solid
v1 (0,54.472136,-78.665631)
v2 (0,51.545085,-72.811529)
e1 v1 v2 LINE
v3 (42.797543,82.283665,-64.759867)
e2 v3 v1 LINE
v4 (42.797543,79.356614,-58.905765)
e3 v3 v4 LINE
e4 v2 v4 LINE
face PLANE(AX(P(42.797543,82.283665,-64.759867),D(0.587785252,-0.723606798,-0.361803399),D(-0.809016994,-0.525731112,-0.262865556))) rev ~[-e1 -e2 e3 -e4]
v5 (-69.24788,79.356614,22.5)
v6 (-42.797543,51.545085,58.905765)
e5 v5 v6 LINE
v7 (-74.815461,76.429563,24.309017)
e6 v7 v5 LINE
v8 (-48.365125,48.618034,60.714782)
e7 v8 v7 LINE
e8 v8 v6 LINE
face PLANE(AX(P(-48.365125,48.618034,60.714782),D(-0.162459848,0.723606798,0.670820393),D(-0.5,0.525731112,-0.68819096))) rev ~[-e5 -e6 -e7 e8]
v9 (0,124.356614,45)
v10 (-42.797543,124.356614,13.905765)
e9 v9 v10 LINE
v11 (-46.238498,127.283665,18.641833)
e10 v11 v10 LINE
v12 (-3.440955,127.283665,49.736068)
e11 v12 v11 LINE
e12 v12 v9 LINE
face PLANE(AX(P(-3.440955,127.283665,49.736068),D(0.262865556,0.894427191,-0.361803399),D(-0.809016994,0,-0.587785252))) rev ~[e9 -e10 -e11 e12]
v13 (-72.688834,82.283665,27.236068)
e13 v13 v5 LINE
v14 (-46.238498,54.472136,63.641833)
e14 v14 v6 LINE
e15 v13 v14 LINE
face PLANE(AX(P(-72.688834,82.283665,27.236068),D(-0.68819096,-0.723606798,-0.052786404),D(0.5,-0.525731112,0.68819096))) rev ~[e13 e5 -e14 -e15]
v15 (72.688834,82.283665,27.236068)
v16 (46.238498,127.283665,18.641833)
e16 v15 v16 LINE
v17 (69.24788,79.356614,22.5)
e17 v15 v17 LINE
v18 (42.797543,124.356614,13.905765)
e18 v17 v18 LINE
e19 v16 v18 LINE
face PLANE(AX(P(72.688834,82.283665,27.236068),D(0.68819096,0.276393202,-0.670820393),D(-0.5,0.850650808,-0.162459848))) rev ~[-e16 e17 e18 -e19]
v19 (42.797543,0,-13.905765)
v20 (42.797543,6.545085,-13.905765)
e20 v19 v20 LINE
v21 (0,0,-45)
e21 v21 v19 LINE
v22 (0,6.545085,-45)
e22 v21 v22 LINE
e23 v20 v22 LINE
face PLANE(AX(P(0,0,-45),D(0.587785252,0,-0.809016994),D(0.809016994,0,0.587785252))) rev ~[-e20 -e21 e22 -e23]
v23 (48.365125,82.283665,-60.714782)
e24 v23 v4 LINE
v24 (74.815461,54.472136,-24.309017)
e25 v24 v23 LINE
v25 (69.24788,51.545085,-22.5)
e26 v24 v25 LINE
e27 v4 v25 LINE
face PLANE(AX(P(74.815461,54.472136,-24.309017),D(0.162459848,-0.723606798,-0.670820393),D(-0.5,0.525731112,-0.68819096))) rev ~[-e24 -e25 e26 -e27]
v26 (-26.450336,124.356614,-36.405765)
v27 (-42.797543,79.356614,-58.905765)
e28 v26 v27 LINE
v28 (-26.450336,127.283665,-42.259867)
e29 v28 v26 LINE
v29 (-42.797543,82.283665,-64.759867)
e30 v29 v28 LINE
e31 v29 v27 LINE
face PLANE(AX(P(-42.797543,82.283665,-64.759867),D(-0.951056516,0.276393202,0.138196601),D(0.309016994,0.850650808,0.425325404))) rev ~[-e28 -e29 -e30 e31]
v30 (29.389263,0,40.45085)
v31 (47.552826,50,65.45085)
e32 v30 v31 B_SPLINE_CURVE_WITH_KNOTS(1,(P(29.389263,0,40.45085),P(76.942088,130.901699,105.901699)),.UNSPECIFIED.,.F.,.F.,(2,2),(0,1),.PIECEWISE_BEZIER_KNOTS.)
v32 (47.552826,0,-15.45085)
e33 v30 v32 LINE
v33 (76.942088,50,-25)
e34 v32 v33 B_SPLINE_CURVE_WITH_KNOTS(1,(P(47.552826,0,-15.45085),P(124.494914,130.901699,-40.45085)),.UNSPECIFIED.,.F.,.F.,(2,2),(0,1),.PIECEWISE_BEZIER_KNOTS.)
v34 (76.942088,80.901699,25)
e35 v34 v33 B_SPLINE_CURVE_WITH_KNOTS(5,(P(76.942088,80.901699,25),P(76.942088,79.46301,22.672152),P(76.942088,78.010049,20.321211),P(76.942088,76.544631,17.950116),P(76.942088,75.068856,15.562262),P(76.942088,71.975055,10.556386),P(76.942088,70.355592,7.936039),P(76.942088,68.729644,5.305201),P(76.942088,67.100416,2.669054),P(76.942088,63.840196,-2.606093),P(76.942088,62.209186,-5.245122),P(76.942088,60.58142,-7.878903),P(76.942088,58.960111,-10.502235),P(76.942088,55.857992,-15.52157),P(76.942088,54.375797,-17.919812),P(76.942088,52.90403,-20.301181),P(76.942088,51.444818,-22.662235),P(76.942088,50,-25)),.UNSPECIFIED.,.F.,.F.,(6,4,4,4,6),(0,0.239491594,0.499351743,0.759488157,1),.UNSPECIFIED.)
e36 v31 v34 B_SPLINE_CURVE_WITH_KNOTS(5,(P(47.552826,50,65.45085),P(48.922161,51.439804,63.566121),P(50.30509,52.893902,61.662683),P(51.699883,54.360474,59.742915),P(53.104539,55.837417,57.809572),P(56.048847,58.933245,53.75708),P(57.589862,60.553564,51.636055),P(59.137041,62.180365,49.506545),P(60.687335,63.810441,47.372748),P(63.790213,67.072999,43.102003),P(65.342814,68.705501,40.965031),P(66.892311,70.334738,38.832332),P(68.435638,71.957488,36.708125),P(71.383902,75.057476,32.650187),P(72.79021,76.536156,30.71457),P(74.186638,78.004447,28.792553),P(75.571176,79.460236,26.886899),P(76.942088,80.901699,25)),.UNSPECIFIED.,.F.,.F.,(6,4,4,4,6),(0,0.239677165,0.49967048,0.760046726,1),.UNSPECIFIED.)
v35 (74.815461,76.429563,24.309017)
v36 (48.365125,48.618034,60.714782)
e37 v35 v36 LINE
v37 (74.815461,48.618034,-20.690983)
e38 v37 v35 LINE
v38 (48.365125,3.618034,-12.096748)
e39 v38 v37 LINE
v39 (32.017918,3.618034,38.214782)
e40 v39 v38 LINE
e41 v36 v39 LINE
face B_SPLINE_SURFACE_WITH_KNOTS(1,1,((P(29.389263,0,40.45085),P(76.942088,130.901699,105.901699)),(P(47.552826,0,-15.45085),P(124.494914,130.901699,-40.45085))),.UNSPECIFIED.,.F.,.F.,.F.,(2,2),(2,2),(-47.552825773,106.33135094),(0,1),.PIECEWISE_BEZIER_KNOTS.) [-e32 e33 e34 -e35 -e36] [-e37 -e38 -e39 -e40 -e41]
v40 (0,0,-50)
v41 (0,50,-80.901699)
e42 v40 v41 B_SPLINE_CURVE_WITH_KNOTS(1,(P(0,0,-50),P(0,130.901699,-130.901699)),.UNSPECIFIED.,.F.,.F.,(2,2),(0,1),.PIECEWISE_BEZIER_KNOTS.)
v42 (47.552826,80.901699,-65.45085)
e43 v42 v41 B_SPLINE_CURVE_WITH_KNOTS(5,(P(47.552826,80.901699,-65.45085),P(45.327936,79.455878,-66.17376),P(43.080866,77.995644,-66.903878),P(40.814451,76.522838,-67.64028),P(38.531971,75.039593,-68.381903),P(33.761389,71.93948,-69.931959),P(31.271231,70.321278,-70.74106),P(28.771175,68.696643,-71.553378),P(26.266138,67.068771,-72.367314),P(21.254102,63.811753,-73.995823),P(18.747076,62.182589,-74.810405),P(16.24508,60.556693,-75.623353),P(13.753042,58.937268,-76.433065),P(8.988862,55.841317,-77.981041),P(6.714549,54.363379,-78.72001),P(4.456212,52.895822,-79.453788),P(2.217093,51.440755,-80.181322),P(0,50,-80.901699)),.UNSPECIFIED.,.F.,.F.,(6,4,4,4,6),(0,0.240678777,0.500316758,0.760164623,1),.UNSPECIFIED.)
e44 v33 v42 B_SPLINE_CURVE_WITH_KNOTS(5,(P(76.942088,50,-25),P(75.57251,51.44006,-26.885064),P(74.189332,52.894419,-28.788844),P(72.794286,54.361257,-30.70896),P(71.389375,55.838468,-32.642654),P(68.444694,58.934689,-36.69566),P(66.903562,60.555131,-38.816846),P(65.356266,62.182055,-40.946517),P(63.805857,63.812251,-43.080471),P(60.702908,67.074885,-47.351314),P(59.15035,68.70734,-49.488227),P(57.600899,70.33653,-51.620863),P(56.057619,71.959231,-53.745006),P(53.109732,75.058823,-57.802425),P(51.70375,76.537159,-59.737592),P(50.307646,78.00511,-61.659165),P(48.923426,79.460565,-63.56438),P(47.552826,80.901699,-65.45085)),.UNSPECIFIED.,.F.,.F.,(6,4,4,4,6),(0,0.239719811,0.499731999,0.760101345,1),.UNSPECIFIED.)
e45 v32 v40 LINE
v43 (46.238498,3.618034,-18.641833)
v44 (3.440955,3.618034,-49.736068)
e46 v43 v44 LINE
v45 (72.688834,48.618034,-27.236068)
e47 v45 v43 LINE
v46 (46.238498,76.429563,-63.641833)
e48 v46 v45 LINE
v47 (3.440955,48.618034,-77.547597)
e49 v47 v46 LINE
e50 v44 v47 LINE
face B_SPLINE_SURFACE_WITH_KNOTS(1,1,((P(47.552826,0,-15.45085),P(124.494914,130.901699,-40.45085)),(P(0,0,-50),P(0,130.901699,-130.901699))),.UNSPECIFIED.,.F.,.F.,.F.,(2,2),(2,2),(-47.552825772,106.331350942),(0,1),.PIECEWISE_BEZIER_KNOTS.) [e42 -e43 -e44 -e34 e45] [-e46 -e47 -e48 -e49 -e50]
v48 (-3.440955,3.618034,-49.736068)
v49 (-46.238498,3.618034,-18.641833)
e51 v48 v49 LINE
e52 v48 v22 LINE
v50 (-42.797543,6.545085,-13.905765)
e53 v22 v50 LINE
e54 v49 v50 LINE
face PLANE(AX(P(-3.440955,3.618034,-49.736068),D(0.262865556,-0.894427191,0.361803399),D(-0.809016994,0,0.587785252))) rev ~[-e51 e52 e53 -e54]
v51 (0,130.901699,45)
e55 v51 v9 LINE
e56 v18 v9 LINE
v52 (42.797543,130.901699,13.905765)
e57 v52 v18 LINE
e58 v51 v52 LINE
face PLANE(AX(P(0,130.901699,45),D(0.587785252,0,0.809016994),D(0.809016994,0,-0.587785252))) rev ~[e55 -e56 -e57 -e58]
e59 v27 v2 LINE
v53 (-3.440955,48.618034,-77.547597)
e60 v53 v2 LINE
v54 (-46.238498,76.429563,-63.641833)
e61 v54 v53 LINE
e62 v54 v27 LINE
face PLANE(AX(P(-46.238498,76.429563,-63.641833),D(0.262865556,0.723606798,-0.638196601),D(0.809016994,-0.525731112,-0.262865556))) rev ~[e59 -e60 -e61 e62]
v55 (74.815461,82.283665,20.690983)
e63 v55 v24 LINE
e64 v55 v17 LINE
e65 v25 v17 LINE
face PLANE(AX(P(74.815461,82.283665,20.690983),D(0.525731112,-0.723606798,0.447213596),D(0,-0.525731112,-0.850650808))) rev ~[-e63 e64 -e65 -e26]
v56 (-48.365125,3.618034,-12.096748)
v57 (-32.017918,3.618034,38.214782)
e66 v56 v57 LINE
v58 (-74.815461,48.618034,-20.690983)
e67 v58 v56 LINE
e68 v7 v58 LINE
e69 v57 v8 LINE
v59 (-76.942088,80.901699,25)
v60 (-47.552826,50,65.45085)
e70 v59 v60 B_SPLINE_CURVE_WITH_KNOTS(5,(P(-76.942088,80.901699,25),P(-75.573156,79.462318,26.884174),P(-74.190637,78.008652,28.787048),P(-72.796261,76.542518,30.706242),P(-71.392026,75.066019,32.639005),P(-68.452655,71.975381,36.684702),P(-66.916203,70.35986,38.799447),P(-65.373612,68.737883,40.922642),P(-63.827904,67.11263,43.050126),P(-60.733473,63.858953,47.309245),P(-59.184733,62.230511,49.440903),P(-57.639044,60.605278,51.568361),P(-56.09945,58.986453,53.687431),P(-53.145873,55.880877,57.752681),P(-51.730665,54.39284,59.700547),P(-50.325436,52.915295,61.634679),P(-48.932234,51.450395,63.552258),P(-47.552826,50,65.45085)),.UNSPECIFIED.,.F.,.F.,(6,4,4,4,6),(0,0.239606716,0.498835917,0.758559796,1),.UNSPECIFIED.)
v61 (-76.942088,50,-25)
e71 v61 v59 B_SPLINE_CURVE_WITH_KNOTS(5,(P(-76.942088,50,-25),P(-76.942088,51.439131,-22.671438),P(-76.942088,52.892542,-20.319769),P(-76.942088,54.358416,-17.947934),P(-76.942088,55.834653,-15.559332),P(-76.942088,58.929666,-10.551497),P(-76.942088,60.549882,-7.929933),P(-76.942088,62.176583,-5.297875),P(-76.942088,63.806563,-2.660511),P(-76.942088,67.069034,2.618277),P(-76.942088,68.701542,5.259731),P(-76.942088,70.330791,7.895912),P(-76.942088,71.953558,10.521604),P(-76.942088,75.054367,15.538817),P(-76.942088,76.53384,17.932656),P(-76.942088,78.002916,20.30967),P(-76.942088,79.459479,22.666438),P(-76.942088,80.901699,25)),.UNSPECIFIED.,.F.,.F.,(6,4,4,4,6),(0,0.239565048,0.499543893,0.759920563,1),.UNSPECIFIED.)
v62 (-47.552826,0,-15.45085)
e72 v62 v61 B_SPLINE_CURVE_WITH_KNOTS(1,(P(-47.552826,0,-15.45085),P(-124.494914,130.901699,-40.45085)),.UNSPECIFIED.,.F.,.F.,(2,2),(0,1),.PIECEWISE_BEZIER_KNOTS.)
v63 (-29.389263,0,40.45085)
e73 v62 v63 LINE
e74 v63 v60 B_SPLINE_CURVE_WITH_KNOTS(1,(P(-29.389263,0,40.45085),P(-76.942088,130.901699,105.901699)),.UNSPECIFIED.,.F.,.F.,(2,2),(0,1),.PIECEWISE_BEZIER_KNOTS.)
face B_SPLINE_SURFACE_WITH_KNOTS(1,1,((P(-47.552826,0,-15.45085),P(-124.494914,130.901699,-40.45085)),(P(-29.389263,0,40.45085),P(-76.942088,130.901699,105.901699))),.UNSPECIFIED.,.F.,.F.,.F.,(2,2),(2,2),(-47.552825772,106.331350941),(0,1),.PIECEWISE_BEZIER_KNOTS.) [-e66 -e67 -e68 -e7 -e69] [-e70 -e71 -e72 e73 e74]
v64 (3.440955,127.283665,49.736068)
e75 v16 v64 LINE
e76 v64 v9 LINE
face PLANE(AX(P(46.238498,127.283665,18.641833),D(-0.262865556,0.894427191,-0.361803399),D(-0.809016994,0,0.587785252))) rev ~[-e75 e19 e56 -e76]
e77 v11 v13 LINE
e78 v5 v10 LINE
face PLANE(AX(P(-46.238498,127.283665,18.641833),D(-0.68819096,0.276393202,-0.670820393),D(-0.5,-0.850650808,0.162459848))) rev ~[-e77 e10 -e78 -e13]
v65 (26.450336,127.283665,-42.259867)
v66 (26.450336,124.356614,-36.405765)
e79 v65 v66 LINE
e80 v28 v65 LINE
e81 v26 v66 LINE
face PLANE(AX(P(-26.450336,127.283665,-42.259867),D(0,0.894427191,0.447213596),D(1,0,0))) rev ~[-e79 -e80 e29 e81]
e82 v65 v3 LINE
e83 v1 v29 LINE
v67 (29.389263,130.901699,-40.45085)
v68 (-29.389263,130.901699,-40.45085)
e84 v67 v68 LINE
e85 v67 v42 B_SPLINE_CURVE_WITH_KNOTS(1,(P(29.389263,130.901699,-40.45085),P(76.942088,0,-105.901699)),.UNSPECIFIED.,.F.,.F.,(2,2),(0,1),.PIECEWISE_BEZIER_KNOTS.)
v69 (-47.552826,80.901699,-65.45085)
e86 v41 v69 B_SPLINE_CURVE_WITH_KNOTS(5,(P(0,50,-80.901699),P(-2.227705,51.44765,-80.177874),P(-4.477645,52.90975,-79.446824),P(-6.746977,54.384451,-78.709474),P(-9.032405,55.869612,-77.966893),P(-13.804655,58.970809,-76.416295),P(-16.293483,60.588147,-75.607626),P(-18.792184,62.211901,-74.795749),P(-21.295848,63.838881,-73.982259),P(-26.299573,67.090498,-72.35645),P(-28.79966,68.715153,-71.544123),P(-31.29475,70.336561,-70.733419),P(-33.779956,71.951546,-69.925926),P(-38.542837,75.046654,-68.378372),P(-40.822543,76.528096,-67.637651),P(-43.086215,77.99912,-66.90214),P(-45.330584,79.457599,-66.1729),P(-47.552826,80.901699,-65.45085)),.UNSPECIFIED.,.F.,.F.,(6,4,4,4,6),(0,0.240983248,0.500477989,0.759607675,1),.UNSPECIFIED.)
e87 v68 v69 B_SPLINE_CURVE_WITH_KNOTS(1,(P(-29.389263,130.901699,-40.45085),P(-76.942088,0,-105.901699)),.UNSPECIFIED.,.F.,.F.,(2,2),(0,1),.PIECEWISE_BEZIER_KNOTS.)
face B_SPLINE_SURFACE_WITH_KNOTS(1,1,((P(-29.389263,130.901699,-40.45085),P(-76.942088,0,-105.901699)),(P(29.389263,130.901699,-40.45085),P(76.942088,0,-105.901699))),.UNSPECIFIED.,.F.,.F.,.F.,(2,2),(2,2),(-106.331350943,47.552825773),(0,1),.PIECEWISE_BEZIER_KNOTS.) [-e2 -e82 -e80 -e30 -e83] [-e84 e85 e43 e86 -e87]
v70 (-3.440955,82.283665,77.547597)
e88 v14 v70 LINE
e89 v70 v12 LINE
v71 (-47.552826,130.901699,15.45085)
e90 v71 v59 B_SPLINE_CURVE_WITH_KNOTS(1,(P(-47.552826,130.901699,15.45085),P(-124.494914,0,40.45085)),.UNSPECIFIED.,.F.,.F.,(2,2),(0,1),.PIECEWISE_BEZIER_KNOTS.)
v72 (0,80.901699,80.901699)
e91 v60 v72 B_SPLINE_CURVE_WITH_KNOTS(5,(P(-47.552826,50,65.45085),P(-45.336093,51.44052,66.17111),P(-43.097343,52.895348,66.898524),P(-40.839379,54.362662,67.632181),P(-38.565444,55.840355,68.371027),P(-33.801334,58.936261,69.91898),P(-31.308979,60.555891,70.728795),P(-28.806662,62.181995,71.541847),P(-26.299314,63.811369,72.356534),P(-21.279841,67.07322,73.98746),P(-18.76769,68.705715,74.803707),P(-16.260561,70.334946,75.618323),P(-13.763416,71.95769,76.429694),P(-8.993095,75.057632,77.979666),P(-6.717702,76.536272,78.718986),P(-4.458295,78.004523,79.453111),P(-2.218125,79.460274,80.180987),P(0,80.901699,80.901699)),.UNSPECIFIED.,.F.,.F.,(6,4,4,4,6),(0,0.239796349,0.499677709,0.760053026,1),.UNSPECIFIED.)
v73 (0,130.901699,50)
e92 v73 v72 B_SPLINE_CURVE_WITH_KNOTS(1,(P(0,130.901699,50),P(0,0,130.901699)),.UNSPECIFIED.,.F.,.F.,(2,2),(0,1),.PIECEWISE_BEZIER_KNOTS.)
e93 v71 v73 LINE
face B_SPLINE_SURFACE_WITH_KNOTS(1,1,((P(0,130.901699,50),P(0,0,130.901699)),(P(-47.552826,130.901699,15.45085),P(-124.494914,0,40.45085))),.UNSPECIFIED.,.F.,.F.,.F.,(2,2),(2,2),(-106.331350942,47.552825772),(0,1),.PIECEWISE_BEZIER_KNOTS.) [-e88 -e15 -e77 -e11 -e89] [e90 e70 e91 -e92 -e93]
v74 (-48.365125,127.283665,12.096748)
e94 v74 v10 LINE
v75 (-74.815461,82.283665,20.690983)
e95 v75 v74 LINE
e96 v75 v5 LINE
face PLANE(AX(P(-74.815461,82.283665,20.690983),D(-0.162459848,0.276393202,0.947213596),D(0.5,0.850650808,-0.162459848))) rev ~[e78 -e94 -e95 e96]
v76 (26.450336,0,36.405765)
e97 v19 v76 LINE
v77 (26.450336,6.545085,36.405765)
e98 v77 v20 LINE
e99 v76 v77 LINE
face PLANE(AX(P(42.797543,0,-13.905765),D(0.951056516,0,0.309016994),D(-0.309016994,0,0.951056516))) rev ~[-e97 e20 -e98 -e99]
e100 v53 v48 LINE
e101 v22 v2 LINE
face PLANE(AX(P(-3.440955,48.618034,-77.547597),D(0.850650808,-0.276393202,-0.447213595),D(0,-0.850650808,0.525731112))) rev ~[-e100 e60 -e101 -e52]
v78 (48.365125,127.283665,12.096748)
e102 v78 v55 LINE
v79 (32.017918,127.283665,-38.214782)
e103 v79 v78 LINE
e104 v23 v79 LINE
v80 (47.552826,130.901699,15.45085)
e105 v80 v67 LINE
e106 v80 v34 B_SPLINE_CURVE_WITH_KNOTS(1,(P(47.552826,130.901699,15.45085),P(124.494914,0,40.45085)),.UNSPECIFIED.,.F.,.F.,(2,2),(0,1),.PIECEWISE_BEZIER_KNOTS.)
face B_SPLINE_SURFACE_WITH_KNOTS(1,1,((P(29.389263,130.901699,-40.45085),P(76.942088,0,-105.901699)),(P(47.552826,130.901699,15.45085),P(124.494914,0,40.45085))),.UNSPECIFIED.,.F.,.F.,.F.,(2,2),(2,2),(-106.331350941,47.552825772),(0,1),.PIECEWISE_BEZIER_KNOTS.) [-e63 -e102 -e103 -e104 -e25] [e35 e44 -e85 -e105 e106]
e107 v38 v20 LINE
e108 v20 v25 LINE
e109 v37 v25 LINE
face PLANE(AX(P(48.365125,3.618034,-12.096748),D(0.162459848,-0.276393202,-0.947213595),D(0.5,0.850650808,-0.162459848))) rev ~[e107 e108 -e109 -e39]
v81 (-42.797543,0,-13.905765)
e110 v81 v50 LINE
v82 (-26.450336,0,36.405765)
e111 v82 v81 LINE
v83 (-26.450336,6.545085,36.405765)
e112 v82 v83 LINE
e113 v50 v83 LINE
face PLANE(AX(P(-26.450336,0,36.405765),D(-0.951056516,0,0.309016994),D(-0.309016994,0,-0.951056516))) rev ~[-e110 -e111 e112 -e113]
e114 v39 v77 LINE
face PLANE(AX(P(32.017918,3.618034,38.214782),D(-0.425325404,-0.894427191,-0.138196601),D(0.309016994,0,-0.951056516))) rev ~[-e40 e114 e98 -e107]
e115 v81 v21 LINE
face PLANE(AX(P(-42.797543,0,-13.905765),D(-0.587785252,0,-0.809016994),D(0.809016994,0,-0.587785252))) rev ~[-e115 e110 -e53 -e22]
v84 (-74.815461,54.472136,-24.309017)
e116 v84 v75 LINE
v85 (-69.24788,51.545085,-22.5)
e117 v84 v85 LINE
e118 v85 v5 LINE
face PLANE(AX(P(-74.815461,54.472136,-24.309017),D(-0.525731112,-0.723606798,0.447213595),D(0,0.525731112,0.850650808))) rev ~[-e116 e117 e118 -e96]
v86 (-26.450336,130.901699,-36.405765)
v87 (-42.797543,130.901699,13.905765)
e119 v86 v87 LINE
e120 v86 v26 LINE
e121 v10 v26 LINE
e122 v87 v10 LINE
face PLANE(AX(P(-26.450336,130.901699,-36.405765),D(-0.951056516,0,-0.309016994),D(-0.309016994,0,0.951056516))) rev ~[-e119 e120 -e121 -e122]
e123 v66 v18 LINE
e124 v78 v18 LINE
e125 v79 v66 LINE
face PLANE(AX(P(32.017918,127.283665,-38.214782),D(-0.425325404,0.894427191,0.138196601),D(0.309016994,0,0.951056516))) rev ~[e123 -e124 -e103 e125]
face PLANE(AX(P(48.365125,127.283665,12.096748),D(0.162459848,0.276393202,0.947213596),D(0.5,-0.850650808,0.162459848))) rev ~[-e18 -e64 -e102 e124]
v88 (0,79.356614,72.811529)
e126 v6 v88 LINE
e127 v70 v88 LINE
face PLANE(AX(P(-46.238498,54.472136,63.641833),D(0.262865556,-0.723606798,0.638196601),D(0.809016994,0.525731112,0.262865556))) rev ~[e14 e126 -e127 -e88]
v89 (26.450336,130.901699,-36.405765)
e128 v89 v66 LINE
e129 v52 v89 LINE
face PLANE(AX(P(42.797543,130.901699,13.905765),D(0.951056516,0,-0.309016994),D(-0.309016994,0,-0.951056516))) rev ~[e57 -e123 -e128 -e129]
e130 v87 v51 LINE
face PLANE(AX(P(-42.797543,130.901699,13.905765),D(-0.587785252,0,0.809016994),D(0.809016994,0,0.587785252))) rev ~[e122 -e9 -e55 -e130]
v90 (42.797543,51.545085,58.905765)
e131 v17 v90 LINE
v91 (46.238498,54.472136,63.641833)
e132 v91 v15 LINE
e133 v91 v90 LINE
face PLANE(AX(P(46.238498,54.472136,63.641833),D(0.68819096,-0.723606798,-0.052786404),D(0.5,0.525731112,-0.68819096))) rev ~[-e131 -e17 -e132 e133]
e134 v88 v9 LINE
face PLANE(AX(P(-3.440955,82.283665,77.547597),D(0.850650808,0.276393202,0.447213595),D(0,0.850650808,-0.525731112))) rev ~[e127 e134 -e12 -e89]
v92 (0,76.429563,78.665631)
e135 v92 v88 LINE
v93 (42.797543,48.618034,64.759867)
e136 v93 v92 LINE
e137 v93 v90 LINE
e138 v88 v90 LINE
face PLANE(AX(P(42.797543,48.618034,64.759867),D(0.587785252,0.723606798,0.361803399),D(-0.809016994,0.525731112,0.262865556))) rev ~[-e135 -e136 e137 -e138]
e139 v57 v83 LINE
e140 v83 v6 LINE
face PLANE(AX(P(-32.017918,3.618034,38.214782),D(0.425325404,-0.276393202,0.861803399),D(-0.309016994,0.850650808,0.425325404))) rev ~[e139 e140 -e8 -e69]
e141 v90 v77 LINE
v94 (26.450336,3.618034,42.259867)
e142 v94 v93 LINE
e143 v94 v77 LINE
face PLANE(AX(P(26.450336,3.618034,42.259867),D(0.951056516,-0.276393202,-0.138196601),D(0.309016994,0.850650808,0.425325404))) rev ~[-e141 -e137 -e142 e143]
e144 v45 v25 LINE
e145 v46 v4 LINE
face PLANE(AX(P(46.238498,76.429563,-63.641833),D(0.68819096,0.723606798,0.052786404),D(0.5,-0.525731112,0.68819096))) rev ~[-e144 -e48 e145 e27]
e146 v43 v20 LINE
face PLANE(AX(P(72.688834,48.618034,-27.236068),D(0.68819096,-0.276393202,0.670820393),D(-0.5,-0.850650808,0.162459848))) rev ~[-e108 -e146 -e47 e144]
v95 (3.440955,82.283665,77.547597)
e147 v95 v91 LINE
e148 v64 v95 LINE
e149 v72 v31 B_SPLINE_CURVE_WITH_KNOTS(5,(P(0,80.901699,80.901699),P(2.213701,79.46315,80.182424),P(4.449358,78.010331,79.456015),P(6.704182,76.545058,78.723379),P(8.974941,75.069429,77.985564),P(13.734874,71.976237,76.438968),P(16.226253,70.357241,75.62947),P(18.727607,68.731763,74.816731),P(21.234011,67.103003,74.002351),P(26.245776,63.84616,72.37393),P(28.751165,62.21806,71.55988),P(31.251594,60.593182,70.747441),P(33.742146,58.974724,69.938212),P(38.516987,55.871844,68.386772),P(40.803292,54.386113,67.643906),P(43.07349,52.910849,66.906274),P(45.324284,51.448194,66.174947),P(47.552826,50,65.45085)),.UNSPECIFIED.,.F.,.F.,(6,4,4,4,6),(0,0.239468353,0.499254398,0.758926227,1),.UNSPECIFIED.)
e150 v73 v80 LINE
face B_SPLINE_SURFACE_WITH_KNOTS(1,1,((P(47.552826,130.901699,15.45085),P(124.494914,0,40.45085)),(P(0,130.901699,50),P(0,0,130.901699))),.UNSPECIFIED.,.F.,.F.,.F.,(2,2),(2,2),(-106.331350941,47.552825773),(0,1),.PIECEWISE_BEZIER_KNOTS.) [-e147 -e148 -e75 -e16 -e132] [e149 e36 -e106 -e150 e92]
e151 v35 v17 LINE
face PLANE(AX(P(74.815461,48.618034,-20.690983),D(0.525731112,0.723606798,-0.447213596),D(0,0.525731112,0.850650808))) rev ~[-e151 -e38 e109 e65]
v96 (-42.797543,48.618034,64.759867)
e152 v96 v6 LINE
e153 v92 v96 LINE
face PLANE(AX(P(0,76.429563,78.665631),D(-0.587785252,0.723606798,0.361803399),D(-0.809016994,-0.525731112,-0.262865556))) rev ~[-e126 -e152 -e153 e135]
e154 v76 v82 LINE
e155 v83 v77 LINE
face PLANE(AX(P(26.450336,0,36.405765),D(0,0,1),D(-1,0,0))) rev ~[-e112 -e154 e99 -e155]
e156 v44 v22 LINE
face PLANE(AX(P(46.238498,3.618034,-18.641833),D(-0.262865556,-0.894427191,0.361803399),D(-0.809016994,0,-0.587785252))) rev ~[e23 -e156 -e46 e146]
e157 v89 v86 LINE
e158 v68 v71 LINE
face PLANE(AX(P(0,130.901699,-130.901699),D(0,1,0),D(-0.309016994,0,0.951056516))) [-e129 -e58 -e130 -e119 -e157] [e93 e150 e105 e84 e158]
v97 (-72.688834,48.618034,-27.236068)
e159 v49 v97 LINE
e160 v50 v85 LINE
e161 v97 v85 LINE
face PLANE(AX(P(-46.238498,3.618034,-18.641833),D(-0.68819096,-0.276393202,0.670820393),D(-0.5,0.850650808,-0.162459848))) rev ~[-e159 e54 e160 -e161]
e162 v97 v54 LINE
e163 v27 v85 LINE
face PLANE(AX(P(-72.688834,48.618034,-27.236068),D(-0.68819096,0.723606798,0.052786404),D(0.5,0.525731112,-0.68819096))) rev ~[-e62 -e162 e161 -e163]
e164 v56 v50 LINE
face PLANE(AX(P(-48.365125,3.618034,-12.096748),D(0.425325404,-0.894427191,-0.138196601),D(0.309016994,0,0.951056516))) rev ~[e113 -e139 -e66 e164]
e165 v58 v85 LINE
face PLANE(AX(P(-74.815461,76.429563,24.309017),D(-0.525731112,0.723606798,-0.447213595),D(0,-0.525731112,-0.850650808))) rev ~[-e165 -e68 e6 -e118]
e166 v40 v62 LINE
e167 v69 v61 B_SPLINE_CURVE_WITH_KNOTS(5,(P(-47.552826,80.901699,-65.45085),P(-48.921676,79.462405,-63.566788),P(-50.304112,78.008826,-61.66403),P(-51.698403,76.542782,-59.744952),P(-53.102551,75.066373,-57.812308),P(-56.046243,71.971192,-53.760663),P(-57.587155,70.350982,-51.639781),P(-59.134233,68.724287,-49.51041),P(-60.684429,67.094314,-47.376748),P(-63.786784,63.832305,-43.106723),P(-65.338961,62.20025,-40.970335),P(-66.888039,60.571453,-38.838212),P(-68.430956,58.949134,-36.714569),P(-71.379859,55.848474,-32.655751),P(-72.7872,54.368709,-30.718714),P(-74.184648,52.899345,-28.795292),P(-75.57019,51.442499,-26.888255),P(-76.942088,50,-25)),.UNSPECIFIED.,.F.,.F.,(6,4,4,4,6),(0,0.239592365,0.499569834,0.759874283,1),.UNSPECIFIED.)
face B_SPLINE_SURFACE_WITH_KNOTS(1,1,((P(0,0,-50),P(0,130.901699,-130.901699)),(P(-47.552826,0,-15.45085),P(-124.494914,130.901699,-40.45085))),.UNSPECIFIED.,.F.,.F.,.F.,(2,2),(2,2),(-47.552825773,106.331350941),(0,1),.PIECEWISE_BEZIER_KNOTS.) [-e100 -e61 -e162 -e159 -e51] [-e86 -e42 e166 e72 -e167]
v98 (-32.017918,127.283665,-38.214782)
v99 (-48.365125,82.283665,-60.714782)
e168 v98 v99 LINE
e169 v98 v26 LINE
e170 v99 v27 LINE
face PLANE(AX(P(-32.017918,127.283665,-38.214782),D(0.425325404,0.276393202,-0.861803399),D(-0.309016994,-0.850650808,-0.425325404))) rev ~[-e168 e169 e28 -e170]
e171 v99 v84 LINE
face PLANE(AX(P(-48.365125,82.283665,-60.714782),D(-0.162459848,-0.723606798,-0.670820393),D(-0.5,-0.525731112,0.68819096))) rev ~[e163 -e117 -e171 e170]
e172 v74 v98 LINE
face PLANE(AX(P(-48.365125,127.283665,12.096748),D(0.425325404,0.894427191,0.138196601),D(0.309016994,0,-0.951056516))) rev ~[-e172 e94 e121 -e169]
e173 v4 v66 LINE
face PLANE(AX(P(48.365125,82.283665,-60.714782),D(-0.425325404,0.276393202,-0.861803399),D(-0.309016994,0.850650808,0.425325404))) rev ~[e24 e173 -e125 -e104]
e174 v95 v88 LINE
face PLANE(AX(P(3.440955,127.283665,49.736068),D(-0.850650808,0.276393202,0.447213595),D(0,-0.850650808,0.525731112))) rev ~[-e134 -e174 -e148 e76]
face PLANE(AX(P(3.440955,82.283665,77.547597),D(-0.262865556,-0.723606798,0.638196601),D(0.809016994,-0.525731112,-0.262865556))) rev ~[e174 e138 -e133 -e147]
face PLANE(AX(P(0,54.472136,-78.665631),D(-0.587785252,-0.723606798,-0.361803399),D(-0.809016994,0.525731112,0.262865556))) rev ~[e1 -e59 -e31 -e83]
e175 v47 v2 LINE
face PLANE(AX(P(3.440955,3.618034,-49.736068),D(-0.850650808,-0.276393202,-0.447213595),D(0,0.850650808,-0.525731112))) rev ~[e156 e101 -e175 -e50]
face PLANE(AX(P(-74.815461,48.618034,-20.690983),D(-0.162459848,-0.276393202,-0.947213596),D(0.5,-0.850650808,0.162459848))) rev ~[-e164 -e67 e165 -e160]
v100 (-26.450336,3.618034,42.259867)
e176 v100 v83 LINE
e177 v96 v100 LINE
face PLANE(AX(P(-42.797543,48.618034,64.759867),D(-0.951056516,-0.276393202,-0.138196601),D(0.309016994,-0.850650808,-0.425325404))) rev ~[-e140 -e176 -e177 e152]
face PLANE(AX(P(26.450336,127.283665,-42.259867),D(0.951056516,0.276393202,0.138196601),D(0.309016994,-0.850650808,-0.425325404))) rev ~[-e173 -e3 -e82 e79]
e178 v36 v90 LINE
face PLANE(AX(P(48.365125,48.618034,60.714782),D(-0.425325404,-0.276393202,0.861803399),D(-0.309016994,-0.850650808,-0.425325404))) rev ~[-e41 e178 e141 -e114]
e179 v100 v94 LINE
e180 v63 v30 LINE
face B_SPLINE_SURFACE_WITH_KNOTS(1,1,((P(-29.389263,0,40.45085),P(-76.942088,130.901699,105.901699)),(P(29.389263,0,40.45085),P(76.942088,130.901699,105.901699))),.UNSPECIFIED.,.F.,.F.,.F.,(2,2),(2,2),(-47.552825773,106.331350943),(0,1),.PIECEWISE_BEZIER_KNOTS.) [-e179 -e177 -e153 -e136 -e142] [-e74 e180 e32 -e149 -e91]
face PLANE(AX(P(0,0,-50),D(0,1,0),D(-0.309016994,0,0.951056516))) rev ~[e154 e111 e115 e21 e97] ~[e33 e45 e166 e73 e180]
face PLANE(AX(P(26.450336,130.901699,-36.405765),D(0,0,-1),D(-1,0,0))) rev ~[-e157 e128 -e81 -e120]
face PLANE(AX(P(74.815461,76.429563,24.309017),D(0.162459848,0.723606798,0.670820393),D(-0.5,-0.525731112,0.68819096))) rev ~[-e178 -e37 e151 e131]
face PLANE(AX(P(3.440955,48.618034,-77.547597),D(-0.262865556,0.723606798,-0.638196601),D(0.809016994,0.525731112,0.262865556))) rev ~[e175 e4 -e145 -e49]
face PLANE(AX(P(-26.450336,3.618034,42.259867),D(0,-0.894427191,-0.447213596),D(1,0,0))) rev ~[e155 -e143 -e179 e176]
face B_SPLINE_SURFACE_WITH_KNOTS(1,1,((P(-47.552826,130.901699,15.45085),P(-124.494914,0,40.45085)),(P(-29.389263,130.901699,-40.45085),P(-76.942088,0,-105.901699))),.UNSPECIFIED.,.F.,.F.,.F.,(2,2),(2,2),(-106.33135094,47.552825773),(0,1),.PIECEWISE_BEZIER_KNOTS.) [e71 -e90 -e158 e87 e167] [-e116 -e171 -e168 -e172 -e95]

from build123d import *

# Parameters (mm, degrees)
CREATION_EXTRUDE_DEPTH = 130.901699304
CREATION_EXTRUDE_TAPER = -26.56505118
SKETCH2_OUTSIDE_W      = 455.432
SKETCH2_OUTSIDE_H      = 443.246
CREATION_CUT_DEPTH     = 130.901699304
CREATION_CUT_TAPER     = 26.56505118
CUT_EXTRUDE_A_DEPTH    = 25.4
A_INV_DEPTH            = 25.4
CUT_EXTRUDE_B_DEPTH    = 25.4
B_INV_DEPTH            = 25.4
CUT_EXTRUDE_C_DEPTH    = 25.4
C_INV_DEPTH            = 25.4
CUT_EXTRUDE_D_DEPTH    = 25.4
D_INV_DEPTH            = 25.4
CUT_EXTRUDE_E_DEPTH    = 25.4
E_INV_DEPTH            = 25.4
CUT_EXTRUDE_F_DEPTH    = 25.4
F_INV_DEPTH            = 25.4


with BuildPart() as part:
    # Sketch1 → creation_extrude (new body)
    with BuildSketch(Plane(origin=(0, 0, 0), x_dir=(1, 0, 0), z_dir=(0, 1, 0))):
        Polygon((0, 49.999999949), (-47.552825766, 15.450849703), (-29.389262585, -40.450849677), (29.389262585, -40.450849677), (47.552825766, 15.450849703), align=None)
    extrude(amount=CREATION_EXTRUDE_DEPTH, taper=CREATION_EXTRUDE_TAPER)

    # Sketch2 outside → creation_cut (cut)
    with BuildSketch(Plane(origin=(0, 130.901699304, 0), x_dir=(1, 0, 0), z_dir=(0, 1, 0))):
        with Locations((0, 12.5)):
            Rectangle(SKETCH2_OUTSIDE_W, SKETCH2_OUTSIDE_H)
        Polygon((0, -49.999999949), (47.552825766, -15.450849703), (29.389262585, 40.450849677), (-29.389262585, 40.450849677), (-47.552825766, -15.450849703), align=None, mode=Mode.SUBTRACT)
    extrude(amount=-CREATION_CUT_DEPTH, taper=CREATION_CUT_TAPER, mode=Mode.SUBTRACT)

    # Sketch3 → Cut-Extrude A (cut)
    with BuildSketch(Plane(origin=(0, 130.901699304, 0), x_dir=(1, 0, 0), z_dir=(0, 1, 0))):
        Polygon((0, -44.999999954), (42.79754319, -13.905764733), (26.450336326, 36.40576471), (-26.450336326, 36.40576471), (-42.79754319, -13.905764733), align=None)
    extrude(amount=-CUT_EXTRUDE_A_DEPTH, mode=Mode.SUBTRACT)

    # Sketch4 → A_inv (cut)
    with BuildSketch(Plane.XZ):
        Polygon((0, -44.999999954), (42.79754319, -13.905764733), (26.450336326, 36.40576471), (-26.450336326, 36.40576471), (-42.79754319, -13.905764733), align=None)
    extrude(amount=-A_INV_DEPTH, mode=Mode.SUBTRACT)

    # Sketch5 → Cut-Extrude B (cut)
    with BuildSketch(Plane(origin=(0, 42.360679738, -84.721359466), x_dir=(-1, 0, 0), z_dir=(-9.08060963965006e-15, 0.4472135955455734, -0.8944271909771081))):
        Polygon((-42.797543189, 44.635254864), (1e-09, 13.541019643), (42.79754319, 44.635254866), (26.450336325, 94.946784308), (-26.450336327, 94.946784307), align=None)
    extrude(amount=-CUT_EXTRUDE_B_DEPTH, mode=Mode.SUBTRACT)

    # Sketch6 → B_inv (cut)
    with BuildSketch(Plane(origin=(0, -16.180339872, 32.36067974), x_dir=(1, 0, 0), z_dir=(4.012362398915141e-15, -0.44721359554557344, 0.8944271909771081))):
        Polygon((-42.797543187, 72.446784338), (-26.450336325, 22.135254895), (26.450336328, 22.135254894), (42.797543192, 72.446784336), (3e-09, 103.541019559), align=None)
    extrude(amount=-B_INV_DEPTH, mode=Mode.SUBTRACT)

    # Sketch7 → Cut-Extrude C (cut)
    with BuildSketch(Plane(origin=(80.574800989, 42.360679738, -26.180339862), x_dir=(-0.24464430830200606, -0.12861712429362887, -0.9610446387935736), z_dir=(0.8506508083303457, 0.44721359554557377, -0.2763932022429817))):
        Polygon((35.93427446, 50.325575991), (12.522250638, 97.763517638), (-39.828626118, 90.15648997), (-48.771223472, 38.017146671), (-1.947175829, 13.400288029), align=None)
    extrude(amount=-CUT_EXTRUDE_C_DEPTH, mode=Mode.SUBTRACT)

    # Sketch8 → C_inv (cut)
    with BuildSketch(Plane(origin=(-30.776835339, -16.180339872, 9.999999989), x_dir=(0.2446443083020028, 0.12861712429362696, 0.9610446387935747), z_dir=(-0.8506508083303469, -0.4472135955455736, 0.27639320224297786))):
        Polygon((-31.935023341, 77.848060657), (-22.992425992, 25.708717357), (29.358450763, 18.101689683), (52.77047459, 65.539631327), (14.889024305, 102.464919293), align=None)
    extrude(amount=-C_INV_DEPTH, mode=Mode.SUBTRACT)

    # Sketch9 → Cut-Extrude D (cut)
    with BuildSketch(Plane(origin=(49.797965648, 42.360679738, 68.541019594), x_dir=(0.8506508083603209, -0.27639320226847824, -0.44721359547279954), z_dir=(0.5257311121057348, 0.44721359554557366, 0.7236067977315217))):
        Polygon((-4.184405192, 98.473361345), (-54.495934634, 82.126154482), (-54.495934634, 29.22548183), (-4.184405192, 12.878274966), (26.90983003, 55.675818156), align=None)
    extrude(amount=-CUT_EXTRUDE_D_DEPTH, mode=Mode.SUBTRACT)

    # Sketch10 → D_inv (cut)
    with BuildSketch(Plane(origin=(-19.021130306, -16.180339872, -26.180339859), x_dir=(-0.8506508083603233, 0.27639320226847536, 0.44721359547279665), z_dir=(-0.5257311121057309, -0.44721359554557344, -0.7236067977315247))):
        Polygon((31.995934659, 98.473361351), (-18.315594783, 82.126154488), (-18.315594783, 29.225481836), (31.995934659, 12.878274972), (63.090169881, 55.675818162), align=None)
    extrude(amount=-D_INV_DEPTH, mode=Mode.SUBTRACT)

    # Sketch11 → Cut-Extrude E (cut)
    with BuildSketch(Plane(origin=(-49.797965648, 42.360679738, 68.541019594), x_dir=(0.8506508083603298, 0.2763932022684677, 0.447213595472789), z_dir=(-0.5257311121057203, 0.44721359554557355, 0.7236067977315324))):
        Polygon((4.184405192, 98.473361345), (-26.90983003, 55.675818156), (4.184405192, 12.878274966), (54.495934634, 29.22548183), (54.495934634, 82.126154482), align=None)
    extrude(amount=-CUT_EXTRUDE_E_DEPTH, mode=Mode.SUBTRACT)

    # Sketch12 → E_inv (cut)
    with BuildSketch(Plane(origin=(19.021130306, -16.180339872, -26.180339859), x_dir=(-0.8506508083603274, -0.27639320226847064, -0.44721359547279194), z_dir=(0.5257311121057243, -0.44721359554557355, -0.7236067977315294))):
        Polygon((-31.99593466, 98.473361351), (-63.090169881, 55.67581816), (-31.995934658, 12.878274972), (18.315594784, 29.225481837), (18.315594782, 82.126154489), align=None)
    extrude(amount=-E_INV_DEPTH, mode=Mode.SUBTRACT)

    # Sketch13 → Cut-Extrude F (cut)
    with BuildSketch(Plane(origin=(-80.574800989, 42.360679738, -26.180339862), x_dir=(-0.2446443083019911, 0.12861712429362016, 0.9610446387935785), z_dir=(-0.8506508083303512, 0.44721359554557344, -0.2763932022429644))):
        Polygon((-12.522250637, 97.763517637), (-35.934274461, 50.325575991), (1.947175826, 13.400288027), (48.771223471, 38.017146666), (39.828626119, 90.156489966), align=None)
    extrude(amount=-CUT_EXTRUDE_F_DEPTH, mode=Mode.SUBTRACT)

    # Sketch14 → F_inv (cut)
    with BuildSketch(Plane(origin=(30.776835339, -16.180339872, 9.999999989), x_dir=(0.2446443083019939, -0.12861712429362177, -0.9610446387935776), z_dir=(0.8506508083303502, -0.4472135955455736, 0.2763932022429676))):
        Polygon((-29.358450768, 18.101689686), (22.992425988, 25.708717353), (31.935023344, 77.848060652), (-14.889024299, 102.464919294), (-52.770474589, 65.539631333), align=None)
    extrude(amount=-F_INV_DEPTH, mode=Mode.SUBTRACT)


with BuildPart() as f_inv_kept_piece:
    # of the separate pieces the step leaves, the one the design keeps (f_inv_pieces_kept)
    add(part.part.solids().sort_by_distance((0, 0, -49.999999949))[0])


solid = f_inv_kept_piece.part
